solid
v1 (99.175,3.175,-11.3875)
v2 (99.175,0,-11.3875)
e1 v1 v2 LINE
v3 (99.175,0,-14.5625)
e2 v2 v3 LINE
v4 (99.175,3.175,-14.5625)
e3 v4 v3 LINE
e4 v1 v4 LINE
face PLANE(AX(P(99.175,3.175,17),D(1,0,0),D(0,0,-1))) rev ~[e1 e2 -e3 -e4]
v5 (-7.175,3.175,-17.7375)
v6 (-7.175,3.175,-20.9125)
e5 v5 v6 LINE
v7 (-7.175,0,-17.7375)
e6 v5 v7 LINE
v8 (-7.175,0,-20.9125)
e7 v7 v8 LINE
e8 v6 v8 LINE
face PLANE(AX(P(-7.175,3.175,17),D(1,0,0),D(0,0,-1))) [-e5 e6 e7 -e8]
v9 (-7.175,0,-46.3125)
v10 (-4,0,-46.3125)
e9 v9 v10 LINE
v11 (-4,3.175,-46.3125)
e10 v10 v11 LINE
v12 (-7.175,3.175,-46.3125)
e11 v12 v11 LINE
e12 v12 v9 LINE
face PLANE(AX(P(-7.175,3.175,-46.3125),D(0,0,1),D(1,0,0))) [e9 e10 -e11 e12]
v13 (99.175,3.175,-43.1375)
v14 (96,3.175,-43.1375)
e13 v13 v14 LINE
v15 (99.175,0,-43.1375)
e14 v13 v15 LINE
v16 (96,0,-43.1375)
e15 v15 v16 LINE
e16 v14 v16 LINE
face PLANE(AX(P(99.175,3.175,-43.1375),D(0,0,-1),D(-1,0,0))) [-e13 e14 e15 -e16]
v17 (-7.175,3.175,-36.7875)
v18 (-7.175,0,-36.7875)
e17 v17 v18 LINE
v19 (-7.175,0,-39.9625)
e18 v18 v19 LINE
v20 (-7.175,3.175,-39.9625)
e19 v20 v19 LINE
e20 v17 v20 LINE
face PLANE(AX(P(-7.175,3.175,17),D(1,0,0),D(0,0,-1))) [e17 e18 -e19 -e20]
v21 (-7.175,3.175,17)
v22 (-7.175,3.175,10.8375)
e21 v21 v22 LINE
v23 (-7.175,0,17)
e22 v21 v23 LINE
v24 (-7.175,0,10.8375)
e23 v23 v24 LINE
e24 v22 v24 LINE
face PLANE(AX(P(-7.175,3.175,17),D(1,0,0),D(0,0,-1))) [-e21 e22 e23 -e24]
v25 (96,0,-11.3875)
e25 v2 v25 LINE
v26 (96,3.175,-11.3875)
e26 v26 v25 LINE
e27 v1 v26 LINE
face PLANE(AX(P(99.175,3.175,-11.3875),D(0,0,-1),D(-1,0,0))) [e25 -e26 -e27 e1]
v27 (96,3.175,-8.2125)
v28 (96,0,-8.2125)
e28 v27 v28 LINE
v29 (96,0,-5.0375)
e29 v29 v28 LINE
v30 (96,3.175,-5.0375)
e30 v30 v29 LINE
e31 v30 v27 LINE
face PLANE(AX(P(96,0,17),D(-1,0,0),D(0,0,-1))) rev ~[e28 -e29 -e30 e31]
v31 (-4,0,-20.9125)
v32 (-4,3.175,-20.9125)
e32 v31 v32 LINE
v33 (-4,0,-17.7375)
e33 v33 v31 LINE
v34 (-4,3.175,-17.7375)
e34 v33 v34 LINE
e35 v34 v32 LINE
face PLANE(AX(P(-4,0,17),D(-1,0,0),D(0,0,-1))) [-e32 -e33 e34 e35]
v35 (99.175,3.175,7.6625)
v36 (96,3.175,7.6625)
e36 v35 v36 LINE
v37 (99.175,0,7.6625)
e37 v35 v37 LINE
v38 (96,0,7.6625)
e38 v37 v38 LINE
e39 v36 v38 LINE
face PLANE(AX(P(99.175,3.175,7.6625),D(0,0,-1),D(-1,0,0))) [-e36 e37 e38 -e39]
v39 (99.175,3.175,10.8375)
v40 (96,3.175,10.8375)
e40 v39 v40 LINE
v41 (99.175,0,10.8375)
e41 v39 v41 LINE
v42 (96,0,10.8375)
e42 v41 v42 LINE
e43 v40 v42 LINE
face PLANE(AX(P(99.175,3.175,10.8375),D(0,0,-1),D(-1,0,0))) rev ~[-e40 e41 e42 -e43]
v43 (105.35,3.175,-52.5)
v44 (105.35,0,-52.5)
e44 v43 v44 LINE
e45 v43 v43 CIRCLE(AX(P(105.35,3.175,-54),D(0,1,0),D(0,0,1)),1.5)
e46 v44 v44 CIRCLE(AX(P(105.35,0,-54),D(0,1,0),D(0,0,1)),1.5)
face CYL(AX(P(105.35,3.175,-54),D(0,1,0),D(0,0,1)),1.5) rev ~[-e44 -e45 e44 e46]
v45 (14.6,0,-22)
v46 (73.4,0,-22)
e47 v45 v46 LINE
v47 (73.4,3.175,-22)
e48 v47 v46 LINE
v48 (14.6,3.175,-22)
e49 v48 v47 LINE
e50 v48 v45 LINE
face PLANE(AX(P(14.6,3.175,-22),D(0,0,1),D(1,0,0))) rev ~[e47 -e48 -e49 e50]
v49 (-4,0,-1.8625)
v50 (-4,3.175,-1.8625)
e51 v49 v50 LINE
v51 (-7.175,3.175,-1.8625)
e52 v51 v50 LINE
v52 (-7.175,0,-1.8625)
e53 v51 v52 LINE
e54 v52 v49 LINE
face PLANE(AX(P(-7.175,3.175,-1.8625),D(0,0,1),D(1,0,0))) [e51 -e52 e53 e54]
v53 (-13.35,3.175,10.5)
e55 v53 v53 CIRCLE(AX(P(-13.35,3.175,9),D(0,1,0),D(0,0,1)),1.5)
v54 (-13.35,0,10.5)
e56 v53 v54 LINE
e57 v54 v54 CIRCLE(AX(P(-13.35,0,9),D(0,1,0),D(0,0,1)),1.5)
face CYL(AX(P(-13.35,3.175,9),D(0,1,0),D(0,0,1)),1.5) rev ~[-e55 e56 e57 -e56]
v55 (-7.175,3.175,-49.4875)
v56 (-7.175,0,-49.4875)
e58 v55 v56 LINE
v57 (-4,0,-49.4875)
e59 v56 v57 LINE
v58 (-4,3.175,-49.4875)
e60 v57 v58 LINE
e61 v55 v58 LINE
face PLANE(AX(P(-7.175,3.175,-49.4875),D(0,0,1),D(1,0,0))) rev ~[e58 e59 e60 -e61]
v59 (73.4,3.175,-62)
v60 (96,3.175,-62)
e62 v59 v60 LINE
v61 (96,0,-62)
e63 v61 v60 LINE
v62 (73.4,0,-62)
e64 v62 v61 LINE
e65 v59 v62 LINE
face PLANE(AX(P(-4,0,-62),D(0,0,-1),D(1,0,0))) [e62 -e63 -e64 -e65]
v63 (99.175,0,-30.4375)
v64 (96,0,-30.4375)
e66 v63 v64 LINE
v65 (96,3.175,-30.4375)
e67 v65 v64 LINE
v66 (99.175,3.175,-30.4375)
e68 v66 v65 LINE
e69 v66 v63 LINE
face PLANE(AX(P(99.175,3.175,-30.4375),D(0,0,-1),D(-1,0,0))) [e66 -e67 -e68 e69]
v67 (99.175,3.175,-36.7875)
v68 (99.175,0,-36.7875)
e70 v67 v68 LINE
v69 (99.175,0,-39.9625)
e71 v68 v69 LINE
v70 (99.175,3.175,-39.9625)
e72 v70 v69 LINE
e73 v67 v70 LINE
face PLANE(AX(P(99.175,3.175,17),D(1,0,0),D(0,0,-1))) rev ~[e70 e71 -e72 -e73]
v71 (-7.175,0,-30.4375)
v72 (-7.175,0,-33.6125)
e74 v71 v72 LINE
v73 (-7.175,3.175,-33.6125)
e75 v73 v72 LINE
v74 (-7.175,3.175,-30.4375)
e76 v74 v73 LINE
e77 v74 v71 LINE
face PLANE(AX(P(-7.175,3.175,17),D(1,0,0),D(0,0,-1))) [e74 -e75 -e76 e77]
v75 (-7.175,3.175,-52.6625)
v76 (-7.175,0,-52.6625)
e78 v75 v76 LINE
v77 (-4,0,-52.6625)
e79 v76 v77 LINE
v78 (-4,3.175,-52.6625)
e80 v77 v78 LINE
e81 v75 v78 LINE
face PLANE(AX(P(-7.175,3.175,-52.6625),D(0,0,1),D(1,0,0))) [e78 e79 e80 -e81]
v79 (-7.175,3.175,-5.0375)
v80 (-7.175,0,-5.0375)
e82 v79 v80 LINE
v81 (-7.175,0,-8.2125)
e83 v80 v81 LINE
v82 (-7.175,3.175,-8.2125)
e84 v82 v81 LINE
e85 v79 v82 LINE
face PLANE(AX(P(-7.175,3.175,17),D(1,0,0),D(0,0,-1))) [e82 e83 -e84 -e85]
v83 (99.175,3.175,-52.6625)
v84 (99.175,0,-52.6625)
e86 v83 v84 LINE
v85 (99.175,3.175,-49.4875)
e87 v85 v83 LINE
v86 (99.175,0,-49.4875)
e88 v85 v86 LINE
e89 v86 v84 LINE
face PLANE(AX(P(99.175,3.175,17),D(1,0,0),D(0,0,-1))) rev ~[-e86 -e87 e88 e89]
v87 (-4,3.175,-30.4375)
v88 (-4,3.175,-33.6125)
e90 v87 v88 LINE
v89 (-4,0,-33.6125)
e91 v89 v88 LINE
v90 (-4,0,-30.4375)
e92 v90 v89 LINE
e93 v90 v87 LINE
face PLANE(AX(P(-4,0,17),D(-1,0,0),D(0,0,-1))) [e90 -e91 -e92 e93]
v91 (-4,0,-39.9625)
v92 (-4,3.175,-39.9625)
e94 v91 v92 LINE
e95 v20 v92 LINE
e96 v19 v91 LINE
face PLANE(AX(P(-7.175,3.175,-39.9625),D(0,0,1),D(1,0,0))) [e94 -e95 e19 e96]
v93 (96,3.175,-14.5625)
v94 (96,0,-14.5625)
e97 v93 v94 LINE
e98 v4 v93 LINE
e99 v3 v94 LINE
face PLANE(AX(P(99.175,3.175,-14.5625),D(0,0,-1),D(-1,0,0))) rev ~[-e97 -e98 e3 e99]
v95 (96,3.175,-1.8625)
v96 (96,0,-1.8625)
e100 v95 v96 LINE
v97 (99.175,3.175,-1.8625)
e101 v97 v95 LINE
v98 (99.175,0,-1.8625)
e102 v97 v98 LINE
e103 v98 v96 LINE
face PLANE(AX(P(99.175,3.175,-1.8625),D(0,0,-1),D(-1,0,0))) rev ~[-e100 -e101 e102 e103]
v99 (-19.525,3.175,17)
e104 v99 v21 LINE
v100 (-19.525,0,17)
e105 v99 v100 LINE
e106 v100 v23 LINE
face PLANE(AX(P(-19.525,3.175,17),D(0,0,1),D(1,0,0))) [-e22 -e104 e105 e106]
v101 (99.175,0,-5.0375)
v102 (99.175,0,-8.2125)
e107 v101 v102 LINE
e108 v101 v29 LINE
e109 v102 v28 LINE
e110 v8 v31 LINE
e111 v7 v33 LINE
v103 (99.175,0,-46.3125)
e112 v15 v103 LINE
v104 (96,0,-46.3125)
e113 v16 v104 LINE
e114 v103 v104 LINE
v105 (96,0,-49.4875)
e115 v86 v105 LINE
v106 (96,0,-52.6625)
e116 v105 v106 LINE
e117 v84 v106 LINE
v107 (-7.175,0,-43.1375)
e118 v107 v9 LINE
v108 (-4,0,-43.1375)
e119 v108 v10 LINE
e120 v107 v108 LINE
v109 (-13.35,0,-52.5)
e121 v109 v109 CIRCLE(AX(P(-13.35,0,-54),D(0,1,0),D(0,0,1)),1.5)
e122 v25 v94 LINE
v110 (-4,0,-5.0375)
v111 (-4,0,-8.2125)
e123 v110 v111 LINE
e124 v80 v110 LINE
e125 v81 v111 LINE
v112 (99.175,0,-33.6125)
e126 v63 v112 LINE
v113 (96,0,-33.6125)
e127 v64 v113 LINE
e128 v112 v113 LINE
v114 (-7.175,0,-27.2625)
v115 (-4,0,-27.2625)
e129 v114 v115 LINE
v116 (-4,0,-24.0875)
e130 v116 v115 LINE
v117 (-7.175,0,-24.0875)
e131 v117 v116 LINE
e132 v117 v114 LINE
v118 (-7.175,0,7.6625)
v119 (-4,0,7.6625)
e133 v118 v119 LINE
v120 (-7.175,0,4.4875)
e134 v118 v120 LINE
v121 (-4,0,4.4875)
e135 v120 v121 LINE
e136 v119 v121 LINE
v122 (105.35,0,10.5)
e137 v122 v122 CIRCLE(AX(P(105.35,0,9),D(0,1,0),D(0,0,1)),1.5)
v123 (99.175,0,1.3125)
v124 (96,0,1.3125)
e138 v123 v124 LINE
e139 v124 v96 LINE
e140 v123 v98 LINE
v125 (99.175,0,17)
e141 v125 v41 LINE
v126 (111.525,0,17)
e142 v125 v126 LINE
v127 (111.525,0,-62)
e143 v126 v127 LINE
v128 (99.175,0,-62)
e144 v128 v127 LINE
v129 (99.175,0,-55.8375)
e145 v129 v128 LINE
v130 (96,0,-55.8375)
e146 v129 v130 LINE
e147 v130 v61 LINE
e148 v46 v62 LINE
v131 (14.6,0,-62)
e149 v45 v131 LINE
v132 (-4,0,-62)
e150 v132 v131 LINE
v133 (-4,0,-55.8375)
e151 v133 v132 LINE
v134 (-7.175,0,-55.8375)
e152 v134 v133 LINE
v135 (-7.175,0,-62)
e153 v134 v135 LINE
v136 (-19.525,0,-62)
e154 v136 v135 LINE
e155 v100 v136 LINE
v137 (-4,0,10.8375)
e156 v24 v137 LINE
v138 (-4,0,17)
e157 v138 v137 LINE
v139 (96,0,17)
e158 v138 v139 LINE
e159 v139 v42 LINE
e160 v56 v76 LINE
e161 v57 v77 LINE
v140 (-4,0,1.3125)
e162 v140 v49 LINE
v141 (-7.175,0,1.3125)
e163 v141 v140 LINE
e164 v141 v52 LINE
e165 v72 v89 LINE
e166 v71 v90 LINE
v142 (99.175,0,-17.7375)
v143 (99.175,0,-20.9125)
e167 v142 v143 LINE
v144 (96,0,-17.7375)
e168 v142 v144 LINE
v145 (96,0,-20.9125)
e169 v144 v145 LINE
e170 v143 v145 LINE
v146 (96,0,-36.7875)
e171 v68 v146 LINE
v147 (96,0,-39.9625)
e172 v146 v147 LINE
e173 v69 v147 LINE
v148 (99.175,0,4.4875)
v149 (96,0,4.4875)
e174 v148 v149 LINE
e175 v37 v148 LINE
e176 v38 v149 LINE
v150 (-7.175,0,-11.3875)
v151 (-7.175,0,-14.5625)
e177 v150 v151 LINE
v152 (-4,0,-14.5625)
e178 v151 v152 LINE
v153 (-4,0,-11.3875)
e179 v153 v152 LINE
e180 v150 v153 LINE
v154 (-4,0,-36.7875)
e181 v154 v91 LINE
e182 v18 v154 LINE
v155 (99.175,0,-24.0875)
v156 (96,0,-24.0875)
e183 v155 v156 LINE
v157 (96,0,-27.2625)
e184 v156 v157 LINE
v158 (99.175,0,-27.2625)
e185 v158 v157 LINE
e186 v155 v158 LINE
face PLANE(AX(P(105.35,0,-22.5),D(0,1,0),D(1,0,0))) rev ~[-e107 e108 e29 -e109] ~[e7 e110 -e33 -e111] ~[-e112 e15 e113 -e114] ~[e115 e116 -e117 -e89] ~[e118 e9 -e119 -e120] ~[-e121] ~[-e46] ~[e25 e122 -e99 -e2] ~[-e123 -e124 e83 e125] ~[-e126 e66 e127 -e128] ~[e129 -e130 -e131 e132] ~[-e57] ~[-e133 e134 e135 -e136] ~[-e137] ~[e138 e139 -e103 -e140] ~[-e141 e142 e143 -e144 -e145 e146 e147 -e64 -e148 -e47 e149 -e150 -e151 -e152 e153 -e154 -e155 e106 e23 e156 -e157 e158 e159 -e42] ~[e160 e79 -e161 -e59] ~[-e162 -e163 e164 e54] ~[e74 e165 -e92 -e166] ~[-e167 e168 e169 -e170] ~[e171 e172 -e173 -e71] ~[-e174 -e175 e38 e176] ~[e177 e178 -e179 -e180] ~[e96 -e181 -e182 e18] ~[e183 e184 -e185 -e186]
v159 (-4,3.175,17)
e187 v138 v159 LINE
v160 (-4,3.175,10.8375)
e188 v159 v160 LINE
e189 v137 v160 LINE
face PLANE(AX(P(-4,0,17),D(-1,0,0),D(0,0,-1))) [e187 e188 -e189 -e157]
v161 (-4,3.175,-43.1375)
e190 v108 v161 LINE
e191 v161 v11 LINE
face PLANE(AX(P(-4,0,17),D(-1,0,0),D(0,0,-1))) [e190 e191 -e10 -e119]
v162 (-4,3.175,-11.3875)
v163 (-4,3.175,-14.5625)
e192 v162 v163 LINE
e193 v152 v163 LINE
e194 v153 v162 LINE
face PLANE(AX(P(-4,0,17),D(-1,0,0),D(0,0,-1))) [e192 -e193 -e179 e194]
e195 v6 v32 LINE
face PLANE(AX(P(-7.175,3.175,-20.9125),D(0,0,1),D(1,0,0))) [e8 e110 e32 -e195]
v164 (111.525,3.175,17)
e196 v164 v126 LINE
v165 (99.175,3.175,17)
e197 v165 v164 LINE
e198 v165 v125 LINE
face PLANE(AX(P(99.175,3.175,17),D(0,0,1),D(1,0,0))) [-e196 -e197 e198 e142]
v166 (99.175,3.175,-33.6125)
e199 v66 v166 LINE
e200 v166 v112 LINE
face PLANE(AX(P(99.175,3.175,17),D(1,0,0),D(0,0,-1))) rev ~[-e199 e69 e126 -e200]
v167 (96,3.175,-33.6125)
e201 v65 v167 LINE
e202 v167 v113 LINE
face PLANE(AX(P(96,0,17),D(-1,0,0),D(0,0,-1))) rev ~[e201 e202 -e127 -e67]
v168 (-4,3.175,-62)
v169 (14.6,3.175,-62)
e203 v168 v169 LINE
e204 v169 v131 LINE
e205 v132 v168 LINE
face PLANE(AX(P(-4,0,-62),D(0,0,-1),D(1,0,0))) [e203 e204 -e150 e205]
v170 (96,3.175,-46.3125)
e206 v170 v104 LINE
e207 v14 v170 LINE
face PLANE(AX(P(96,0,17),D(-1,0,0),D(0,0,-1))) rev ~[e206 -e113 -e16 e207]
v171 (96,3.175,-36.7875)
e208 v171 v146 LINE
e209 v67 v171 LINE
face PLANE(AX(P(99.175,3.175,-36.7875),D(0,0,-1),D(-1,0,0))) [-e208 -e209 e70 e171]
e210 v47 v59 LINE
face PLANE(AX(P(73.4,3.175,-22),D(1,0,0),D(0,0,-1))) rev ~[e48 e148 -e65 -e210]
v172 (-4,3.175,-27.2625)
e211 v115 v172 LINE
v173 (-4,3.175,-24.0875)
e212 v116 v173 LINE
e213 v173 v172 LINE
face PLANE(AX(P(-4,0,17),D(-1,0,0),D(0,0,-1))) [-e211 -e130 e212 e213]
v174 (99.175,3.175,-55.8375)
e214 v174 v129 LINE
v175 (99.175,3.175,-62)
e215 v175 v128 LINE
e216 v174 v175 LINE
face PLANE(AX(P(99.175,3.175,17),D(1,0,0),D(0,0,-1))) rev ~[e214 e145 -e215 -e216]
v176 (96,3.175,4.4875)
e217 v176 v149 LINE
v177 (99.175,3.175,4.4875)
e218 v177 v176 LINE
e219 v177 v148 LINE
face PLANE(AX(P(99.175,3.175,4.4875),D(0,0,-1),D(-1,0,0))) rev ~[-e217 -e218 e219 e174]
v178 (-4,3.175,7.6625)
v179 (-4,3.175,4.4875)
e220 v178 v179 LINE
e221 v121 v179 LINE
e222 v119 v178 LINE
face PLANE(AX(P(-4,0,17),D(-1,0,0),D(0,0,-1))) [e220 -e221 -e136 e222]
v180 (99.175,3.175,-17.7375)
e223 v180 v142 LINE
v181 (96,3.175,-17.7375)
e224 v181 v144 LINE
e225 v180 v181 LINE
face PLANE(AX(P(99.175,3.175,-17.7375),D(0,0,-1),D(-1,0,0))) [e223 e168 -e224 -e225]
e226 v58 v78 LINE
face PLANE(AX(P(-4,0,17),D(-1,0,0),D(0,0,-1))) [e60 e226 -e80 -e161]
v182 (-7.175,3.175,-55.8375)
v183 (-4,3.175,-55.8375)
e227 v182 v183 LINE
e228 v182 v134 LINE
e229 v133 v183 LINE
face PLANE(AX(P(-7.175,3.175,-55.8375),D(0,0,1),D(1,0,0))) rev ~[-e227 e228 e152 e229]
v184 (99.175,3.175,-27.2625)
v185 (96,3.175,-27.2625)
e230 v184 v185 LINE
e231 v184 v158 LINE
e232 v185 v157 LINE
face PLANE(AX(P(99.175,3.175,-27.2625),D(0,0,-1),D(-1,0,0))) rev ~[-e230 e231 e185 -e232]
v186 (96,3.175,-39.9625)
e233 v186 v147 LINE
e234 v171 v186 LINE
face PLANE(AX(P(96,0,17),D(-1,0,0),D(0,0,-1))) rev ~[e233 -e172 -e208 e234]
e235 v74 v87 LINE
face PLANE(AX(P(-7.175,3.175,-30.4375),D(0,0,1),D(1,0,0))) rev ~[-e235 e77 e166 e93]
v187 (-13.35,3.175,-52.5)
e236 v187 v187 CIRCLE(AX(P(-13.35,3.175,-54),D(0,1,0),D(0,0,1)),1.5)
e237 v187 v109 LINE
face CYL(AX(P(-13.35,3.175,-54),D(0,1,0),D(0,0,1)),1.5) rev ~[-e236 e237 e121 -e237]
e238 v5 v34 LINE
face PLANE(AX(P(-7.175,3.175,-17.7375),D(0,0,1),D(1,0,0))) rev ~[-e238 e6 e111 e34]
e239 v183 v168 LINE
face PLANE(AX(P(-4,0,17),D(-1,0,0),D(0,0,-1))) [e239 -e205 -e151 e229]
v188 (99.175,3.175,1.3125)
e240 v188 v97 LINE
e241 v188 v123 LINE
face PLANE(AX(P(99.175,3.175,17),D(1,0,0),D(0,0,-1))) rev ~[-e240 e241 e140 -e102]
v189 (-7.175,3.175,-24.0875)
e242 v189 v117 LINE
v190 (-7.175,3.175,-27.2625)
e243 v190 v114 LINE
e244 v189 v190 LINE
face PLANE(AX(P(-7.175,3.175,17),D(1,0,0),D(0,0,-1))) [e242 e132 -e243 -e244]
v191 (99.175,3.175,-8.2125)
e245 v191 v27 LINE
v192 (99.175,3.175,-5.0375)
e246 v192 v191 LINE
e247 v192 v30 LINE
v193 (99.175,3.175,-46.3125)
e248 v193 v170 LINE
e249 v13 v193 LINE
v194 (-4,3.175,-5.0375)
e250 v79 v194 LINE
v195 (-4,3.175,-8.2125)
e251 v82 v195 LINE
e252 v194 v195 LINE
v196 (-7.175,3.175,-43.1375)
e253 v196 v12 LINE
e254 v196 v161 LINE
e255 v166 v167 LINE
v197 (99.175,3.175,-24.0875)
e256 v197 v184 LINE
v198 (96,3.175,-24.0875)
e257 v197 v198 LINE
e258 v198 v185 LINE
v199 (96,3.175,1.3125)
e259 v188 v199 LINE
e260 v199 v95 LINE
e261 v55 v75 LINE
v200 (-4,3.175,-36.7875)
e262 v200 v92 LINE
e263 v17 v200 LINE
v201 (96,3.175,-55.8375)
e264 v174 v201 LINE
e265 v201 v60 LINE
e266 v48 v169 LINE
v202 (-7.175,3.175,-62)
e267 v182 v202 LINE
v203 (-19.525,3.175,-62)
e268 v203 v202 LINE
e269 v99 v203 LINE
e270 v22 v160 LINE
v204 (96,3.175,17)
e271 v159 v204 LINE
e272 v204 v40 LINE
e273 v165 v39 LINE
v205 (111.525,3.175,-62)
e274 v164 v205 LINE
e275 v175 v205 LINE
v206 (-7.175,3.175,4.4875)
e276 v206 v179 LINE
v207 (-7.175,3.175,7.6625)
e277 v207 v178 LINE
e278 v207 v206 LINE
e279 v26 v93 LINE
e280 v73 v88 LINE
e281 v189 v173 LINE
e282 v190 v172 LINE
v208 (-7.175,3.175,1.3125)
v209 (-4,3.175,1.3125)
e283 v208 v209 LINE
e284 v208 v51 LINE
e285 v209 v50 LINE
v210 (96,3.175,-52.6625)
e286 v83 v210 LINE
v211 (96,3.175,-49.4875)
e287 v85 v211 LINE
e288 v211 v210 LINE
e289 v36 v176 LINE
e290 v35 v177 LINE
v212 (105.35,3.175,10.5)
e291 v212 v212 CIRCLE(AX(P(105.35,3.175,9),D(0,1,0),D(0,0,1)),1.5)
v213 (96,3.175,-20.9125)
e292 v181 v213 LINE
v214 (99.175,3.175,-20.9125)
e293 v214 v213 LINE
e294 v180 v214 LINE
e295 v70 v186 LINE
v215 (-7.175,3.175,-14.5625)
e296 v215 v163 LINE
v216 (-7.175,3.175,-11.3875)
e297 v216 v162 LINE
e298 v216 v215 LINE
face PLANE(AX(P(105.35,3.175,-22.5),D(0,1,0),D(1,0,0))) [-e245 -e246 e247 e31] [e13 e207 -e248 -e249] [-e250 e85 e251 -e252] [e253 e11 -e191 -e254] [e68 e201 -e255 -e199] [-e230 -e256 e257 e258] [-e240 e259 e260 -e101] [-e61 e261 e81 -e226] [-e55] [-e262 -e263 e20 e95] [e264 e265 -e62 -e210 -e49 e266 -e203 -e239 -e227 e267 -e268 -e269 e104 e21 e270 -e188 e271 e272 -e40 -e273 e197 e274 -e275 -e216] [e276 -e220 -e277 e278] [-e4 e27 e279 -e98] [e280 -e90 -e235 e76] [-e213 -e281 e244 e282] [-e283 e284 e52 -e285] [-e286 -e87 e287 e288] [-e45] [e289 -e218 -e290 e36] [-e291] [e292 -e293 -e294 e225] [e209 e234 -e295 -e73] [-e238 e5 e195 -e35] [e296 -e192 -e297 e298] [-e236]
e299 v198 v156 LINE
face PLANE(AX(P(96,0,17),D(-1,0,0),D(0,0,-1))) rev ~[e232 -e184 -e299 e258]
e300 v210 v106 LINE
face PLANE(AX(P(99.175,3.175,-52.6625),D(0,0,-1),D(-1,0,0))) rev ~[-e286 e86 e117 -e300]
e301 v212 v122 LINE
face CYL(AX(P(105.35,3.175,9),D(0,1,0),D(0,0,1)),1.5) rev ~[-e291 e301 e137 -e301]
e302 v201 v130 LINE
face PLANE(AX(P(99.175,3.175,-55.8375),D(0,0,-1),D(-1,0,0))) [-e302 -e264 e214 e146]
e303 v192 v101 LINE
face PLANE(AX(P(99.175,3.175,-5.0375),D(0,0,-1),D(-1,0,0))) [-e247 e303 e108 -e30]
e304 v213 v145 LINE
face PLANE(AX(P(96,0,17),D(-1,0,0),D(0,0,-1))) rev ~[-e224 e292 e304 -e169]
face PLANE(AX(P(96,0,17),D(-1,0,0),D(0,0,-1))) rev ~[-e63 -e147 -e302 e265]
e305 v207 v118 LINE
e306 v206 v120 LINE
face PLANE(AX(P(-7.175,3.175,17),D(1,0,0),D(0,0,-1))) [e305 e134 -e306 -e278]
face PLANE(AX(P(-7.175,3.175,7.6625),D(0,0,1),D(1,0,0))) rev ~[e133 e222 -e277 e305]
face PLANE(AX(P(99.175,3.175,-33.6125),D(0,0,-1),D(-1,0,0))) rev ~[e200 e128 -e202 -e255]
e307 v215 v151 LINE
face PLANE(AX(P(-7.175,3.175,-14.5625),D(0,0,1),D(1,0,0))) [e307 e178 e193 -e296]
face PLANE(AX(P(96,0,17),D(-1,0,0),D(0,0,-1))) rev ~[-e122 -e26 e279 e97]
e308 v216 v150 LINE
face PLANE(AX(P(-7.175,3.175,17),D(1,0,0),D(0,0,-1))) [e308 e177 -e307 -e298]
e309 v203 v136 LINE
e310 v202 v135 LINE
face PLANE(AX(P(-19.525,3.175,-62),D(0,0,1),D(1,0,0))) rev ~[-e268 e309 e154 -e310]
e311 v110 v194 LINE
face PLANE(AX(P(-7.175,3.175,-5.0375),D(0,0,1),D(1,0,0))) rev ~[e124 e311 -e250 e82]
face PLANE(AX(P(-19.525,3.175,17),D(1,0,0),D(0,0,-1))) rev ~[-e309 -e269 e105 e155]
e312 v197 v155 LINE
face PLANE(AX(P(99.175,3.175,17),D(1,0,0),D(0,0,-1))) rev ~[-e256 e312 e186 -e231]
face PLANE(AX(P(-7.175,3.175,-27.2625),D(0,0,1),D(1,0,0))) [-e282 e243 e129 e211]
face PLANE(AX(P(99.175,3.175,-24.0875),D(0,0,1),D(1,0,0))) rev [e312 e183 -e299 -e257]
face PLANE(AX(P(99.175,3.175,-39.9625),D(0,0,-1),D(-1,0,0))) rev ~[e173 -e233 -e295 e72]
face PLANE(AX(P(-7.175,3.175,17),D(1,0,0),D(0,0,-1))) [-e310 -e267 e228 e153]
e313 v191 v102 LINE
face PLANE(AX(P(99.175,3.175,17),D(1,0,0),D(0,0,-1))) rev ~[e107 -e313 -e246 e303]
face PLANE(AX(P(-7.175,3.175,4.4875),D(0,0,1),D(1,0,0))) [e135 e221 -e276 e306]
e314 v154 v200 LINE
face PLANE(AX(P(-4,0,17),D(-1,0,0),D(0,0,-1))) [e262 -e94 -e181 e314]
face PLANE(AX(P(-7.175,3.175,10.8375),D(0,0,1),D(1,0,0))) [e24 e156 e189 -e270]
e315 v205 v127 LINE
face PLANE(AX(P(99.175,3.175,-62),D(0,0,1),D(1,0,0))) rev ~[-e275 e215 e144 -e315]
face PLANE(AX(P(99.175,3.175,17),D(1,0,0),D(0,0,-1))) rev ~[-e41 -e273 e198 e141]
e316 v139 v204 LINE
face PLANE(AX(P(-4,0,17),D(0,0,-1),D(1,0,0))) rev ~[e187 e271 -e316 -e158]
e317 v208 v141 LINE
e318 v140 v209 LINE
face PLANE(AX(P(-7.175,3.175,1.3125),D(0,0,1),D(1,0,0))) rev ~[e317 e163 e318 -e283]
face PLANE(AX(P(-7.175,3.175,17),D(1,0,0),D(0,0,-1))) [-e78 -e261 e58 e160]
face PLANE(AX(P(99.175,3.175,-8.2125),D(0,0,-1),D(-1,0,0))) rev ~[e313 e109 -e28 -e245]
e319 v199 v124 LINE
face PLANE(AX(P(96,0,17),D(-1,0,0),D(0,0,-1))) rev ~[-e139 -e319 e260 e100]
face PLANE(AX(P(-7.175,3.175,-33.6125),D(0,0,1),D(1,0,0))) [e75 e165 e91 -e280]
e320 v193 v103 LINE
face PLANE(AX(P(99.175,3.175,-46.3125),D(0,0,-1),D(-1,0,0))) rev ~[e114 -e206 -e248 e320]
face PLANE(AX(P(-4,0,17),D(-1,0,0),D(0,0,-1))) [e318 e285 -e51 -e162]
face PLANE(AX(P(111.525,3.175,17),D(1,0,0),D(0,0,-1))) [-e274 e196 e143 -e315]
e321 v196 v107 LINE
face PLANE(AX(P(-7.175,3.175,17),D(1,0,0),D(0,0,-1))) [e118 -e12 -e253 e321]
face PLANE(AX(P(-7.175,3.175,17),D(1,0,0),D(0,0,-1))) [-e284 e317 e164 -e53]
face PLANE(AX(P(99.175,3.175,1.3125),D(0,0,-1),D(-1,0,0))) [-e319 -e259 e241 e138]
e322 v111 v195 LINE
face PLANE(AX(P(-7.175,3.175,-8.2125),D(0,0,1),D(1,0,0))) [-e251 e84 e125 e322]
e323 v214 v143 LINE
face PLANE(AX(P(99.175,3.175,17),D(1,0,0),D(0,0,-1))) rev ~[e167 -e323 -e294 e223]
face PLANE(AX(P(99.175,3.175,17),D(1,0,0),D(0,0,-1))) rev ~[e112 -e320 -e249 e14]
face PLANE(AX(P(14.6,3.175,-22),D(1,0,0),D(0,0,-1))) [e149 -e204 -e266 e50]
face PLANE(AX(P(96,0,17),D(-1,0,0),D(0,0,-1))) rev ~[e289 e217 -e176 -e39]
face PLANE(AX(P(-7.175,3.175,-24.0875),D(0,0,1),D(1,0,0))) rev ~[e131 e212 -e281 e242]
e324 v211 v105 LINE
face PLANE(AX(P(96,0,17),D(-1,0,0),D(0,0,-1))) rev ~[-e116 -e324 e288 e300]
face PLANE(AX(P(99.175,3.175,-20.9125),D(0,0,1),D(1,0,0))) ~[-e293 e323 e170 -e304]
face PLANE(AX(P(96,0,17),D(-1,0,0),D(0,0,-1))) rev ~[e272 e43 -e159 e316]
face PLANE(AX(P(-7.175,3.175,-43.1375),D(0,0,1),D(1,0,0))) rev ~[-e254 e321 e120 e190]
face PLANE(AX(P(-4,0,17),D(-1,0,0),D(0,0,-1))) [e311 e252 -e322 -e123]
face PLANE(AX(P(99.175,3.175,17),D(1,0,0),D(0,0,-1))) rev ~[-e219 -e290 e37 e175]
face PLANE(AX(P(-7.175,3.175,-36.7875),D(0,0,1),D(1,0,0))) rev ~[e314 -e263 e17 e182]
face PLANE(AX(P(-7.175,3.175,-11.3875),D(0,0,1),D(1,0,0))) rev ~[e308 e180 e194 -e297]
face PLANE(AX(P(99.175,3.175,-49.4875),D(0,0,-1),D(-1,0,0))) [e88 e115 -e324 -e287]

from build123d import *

# Parameters (mm, degrees)
SKETCH3_W                     = 100
SKETCH3_H                     = 79
BOSS_EXTRUDE1_DEPTH           = 3.175
SKETCH5_W                     = 58.8
SKETCH5_H                     = 40
CUT_EXTRUDE2_DEPTH            = 3.175
SKETCH11_W                    = 6.35
SKETCH11_H                    = 3.175
BOSS_EXTRUDE2_DEPTH           = 3.175
LPATTERN2_COUNT               = 6
LPATTERN2_PITCH               = 6.35
LPATTERN2_COPY_1_SKETCH_W     = 6.35
LPATTERN2_COPY_1_SKETCH_H     = 3.175
LPATTERN2_COPY_1_DEPTH        = 3.175
LPATTERN2_COPY_2_SKETCH_W     = 6.35
LPATTERN2_COPY_2_SKETCH_H     = 3.175
LPATTERN2_COPY_2_DEPTH        = 3.175
LPATTERN2_COPY_3_SKETCH_W     = 6.35
LPATTERN2_COPY_3_SKETCH_H     = 3.175
LPATTERN2_COPY_3_DEPTH        = 3.175
LPATTERN2_COPY_4_SKETCH_W     = 6.35
LPATTERN2_COPY_4_SKETCH_H     = 3.175
LPATTERN2_COPY_4_DEPTH        = 3.175
LPATTERN2_COPY_5_SKETCH_W     = 6.35
LPATTERN2_COPY_5_SKETCH_H     = 3.175
LPATTERN2_COPY_5_DEPTH        = 3.175
LPATTERN2_COL_COUNT           = 6
LPATTERN2_COL_PITCH           = 6.35
LPATTERN2_COL_COPY_1_SKETCH_W = 6.35
LPATTERN2_COL_COPY_1_SKETCH_H = 3.175
LPATTERN2_COL_COPY_1_DEPTH    = 3.175
LPATTERN2_COL_COPY_2_SKETCH_W = 6.35
LPATTERN2_COL_COPY_2_SKETCH_H = 3.175
LPATTERN2_COL_COPY_2_DEPTH    = 3.175
LPATTERN2_COL_COPY_3_SKETCH_W = 6.35
LPATTERN2_COL_COPY_3_SKETCH_H = 3.175
LPATTERN2_COL_COPY_3_DEPTH    = 3.175
LPATTERN2_COL_COPY_4_SKETCH_W = 6.35
LPATTERN2_COL_COPY_4_SKETCH_H = 3.175
LPATTERN2_COL_COPY_4_DEPTH    = 3.175
LPATTERN2_COL_COPY_5_SKETCH_W = 6.35
LPATTERN2_COL_COPY_5_SKETCH_H = 3.175
LPATTERN2_COL_COPY_5_DEPTH    = 3.175
SKETCH13_W                    = 12.35
SKETCH13_H                    = 79
BOSS_EXTRUDE4_DEPTH           = 3.175
SKETCH14_W                    = 12.35
SKETCH14_H                    = 79
BOSS_EXTRUDE5_DEPTH           = 3.175
SKETCH15_R                    = 1.5
CUT_EXTRUDE4_DEPTH            = 10
SKETCH16_R                    = 1.5
CUT_EXTRUDE5_DEPTH            = 10


with BuildPart() as part:
    # Sketch3 → Boss-Extrude1 (new body)
    with BuildSketch(Plane(origin=(0, 0, 0), x_dir=(1, 0, 0), z_dir=(0, 1, 0))):
        with Locations((46, 22.5)):
            Rectangle(SKETCH3_W, SKETCH3_H)
    extrude(amount=BOSS_EXTRUDE1_DEPTH)

    # Sketch5 → Cut-Extrude2 (cut)
    with BuildSketch(Plane(origin=(0, 3.175, 0), x_dir=(1, 0, 0), z_dir=(0, 1, 0))):
        with Locations((44, 42)):
            Rectangle(SKETCH5_W, SKETCH5_H)
    extrude(amount=-CUT_EXTRUDE2_DEPTH, mode=Mode.SUBTRACT)

    # Sketch11 → Boss-Extrude2 (add)
    with BuildSketch(Plane(origin=(0, 3.175, 0), x_dir=(1, 0, 0), z_dir=(0, 1, 0))):
        with Locations((-4, 22.5)):
            Rectangle(SKETCH11_W, SKETCH11_H)
    boss_extrude2 = extrude(amount=-BOSS_EXTRUDE2_DEPTH)

    # Mirror2: Boss-Extrude2 across plane
    add(boss_extrude2.mirror(Plane.ZY.offset(-46)))

    # LPattern2: Boss-Extrude2 ×6
    with Locations(*[(0, 0, -i * LPATTERN2_PITCH) for i in range(1, LPATTERN2_COUNT)]):
        add(boss_extrude2)

    # LPattern2 copy 1 sketch → LPattern2 copy 1 (add)
    with BuildSketch(Plane(origin=(92, 3.175, -6.35), x_dir=(-1, 0, 0), z_dir=(0, 1, 0))):
        with Locations((-4, -22.5)):
            Rectangle(LPATTERN2_COPY_1_SKETCH_W, LPATTERN2_COPY_1_SKETCH_H)
    extrude(amount=-LPATTERN2_COPY_1_DEPTH)

    # LPattern2 copy 2 sketch → LPattern2 copy 2 (add)
    with BuildSketch(Plane(origin=(92, 3.175, -12.7), x_dir=(-1, 0, 0), z_dir=(0, 1, 0))):
        with Locations((-4, -22.5)):
            Rectangle(LPATTERN2_COPY_2_SKETCH_W, LPATTERN2_COPY_2_SKETCH_H)
    extrude(amount=-LPATTERN2_COPY_2_DEPTH)

    # LPattern2 copy 3 sketch → LPattern2 copy 3 (add)
    with BuildSketch(Plane(origin=(92, 3.175, -19.05), x_dir=(-1, 0, 0), z_dir=(0, 1, 0))):
        with Locations((-4, -22.5)):
            Rectangle(LPATTERN2_COPY_3_SKETCH_W, LPATTERN2_COPY_3_SKETCH_H)
    extrude(amount=-LPATTERN2_COPY_3_DEPTH)

    # LPattern2 copy 4 sketch → LPattern2 copy 4 (add)
    with BuildSketch(Plane(origin=(92, 3.175, -25.4), x_dir=(-1, 0, 0), z_dir=(0, 1, 0))):
        with Locations((-4, -22.5)):
            Rectangle(LPATTERN2_COPY_4_SKETCH_W, LPATTERN2_COPY_4_SKETCH_H)
    extrude(amount=-LPATTERN2_COPY_4_DEPTH)

    # LPattern2 copy 5 sketch → LPattern2 copy 5 (add)
    with BuildSketch(Plane(origin=(92, 3.175, -31.75), x_dir=(-1, 0, 0), z_dir=(0, 1, 0))):
        with Locations((-4, -22.5)):
            Rectangle(LPATTERN2_COPY_5_SKETCH_W, LPATTERN2_COPY_5_SKETCH_H)
    extrude(amount=-LPATTERN2_COPY_5_DEPTH)

    # LPattern2 col: Boss-Extrude2 ×6
    with Locations(*[(0, 0, i * LPATTERN2_COL_PITCH) for i in range(1, LPATTERN2_COL_COUNT)]):
        add(boss_extrude2)

    # LPattern2 col copy 1 sketch → LPattern2 col copy 1 (add)
    with BuildSketch(Plane(origin=(92, 3.175, 6.35), x_dir=(-1, 0, 0), z_dir=(0, 1, 0))):
        with Locations((-4, -22.5)):
            Rectangle(LPATTERN2_COL_COPY_1_SKETCH_W, LPATTERN2_COL_COPY_1_SKETCH_H)
    extrude(amount=-LPATTERN2_COL_COPY_1_DEPTH)

    # LPattern2 col copy 2 sketch → LPattern2 col copy 2 (add)
    with BuildSketch(Plane(origin=(92, 3.175, 12.7), x_dir=(-1, 0, 0), z_dir=(0, 1, 0))):
        with Locations((-4, -22.5)):
            Rectangle(LPATTERN2_COL_COPY_2_SKETCH_W, LPATTERN2_COL_COPY_2_SKETCH_H)
    extrude(amount=-LPATTERN2_COL_COPY_2_DEPTH)

    # LPattern2 col copy 3 sketch → LPattern2 col copy 3 (add)
    with BuildSketch(Plane(origin=(92, 3.175, 19.05), x_dir=(-1, 0, 0), z_dir=(0, 1, 0))):
        with Locations((-4, -22.5)):
            Rectangle(LPATTERN2_COL_COPY_3_SKETCH_W, LPATTERN2_COL_COPY_3_SKETCH_H)
    extrude(amount=-LPATTERN2_COL_COPY_3_DEPTH)

    # LPattern2 col copy 4 sketch → LPattern2 col copy 4 (add)
    with BuildSketch(Plane(origin=(92, 3.175, 25.4), x_dir=(-1, 0, 0), z_dir=(0, 1, 0))):
        with Locations((-4, -22.5)):
            Rectangle(LPATTERN2_COL_COPY_4_SKETCH_W, LPATTERN2_COL_COPY_4_SKETCH_H)
    extrude(amount=-LPATTERN2_COL_COPY_4_DEPTH)

    # LPattern2 col copy 5 sketch → LPattern2 col copy 5 (add)
    with BuildSketch(Plane(origin=(92, 3.175, 31.75), x_dir=(-1, 0, 0), z_dir=(0, 1, 0))):
        with Locations((-4, -22.5)):
            Rectangle(LPATTERN2_COL_COPY_5_SKETCH_W, LPATTERN2_COL_COPY_5_SKETCH_H)
    extrude(amount=-LPATTERN2_COL_COPY_5_DEPTH)

    # Sketch13 → Boss-Extrude4 (add)
    with BuildSketch(Plane(origin=(0, 3.175, 0), x_dir=(1, 0, 0), z_dir=(0, 1, 0))):
        with Locations((-13.35, 22.5)):
            Rectangle(SKETCH13_W, SKETCH13_H)
    extrude(amount=-BOSS_EXTRUDE4_DEPTH)

    # Sketch14 → Boss-Extrude5 (add)
    with BuildSketch(Plane(origin=(0, 3.175, 0), x_dir=(1, 0, 0), z_dir=(0, 1, 0))):
        with Locations((105.35, 22.5)):
            Rectangle(SKETCH14_W, SKETCH14_H)
    extrude(amount=-BOSS_EXTRUDE5_DEPTH)

    # Sketch15 → Cut-Extrude4 (cut)
    with BuildSketch(Plane(origin=(0, 3.175, 0), x_dir=(1, 0, 0), z_dir=(0, 1, 0))):
        with Locations(Location((-13.35, 54, 0), (0, 0, 270))):
            Circle(SKETCH15_R)
        with Locations(Location((-13.35, -9, 0), (0, 0, 270))):
            Circle(SKETCH15_R)
    extrude(amount=-CUT_EXTRUDE4_DEPTH, mode=Mode.SUBTRACT)

    # Sketch16 → Cut-Extrude5 (cut)
    with BuildSketch(Plane(origin=(0, 3.175, 0), x_dir=(1, 0, 0), z_dir=(0, 1, 0))):
        with Locations(Location((105.35, 54, 0), (0, 0, 270))):
            Circle(SKETCH16_R)
        with Locations(Location((105.35, -9, 0), (0, 0, 270))):
            Circle(SKETCH16_R)
    extrude(amount=-CUT_EXTRUDE5_DEPTH, mode=Mode.SUBTRACT)


solid = part.part
